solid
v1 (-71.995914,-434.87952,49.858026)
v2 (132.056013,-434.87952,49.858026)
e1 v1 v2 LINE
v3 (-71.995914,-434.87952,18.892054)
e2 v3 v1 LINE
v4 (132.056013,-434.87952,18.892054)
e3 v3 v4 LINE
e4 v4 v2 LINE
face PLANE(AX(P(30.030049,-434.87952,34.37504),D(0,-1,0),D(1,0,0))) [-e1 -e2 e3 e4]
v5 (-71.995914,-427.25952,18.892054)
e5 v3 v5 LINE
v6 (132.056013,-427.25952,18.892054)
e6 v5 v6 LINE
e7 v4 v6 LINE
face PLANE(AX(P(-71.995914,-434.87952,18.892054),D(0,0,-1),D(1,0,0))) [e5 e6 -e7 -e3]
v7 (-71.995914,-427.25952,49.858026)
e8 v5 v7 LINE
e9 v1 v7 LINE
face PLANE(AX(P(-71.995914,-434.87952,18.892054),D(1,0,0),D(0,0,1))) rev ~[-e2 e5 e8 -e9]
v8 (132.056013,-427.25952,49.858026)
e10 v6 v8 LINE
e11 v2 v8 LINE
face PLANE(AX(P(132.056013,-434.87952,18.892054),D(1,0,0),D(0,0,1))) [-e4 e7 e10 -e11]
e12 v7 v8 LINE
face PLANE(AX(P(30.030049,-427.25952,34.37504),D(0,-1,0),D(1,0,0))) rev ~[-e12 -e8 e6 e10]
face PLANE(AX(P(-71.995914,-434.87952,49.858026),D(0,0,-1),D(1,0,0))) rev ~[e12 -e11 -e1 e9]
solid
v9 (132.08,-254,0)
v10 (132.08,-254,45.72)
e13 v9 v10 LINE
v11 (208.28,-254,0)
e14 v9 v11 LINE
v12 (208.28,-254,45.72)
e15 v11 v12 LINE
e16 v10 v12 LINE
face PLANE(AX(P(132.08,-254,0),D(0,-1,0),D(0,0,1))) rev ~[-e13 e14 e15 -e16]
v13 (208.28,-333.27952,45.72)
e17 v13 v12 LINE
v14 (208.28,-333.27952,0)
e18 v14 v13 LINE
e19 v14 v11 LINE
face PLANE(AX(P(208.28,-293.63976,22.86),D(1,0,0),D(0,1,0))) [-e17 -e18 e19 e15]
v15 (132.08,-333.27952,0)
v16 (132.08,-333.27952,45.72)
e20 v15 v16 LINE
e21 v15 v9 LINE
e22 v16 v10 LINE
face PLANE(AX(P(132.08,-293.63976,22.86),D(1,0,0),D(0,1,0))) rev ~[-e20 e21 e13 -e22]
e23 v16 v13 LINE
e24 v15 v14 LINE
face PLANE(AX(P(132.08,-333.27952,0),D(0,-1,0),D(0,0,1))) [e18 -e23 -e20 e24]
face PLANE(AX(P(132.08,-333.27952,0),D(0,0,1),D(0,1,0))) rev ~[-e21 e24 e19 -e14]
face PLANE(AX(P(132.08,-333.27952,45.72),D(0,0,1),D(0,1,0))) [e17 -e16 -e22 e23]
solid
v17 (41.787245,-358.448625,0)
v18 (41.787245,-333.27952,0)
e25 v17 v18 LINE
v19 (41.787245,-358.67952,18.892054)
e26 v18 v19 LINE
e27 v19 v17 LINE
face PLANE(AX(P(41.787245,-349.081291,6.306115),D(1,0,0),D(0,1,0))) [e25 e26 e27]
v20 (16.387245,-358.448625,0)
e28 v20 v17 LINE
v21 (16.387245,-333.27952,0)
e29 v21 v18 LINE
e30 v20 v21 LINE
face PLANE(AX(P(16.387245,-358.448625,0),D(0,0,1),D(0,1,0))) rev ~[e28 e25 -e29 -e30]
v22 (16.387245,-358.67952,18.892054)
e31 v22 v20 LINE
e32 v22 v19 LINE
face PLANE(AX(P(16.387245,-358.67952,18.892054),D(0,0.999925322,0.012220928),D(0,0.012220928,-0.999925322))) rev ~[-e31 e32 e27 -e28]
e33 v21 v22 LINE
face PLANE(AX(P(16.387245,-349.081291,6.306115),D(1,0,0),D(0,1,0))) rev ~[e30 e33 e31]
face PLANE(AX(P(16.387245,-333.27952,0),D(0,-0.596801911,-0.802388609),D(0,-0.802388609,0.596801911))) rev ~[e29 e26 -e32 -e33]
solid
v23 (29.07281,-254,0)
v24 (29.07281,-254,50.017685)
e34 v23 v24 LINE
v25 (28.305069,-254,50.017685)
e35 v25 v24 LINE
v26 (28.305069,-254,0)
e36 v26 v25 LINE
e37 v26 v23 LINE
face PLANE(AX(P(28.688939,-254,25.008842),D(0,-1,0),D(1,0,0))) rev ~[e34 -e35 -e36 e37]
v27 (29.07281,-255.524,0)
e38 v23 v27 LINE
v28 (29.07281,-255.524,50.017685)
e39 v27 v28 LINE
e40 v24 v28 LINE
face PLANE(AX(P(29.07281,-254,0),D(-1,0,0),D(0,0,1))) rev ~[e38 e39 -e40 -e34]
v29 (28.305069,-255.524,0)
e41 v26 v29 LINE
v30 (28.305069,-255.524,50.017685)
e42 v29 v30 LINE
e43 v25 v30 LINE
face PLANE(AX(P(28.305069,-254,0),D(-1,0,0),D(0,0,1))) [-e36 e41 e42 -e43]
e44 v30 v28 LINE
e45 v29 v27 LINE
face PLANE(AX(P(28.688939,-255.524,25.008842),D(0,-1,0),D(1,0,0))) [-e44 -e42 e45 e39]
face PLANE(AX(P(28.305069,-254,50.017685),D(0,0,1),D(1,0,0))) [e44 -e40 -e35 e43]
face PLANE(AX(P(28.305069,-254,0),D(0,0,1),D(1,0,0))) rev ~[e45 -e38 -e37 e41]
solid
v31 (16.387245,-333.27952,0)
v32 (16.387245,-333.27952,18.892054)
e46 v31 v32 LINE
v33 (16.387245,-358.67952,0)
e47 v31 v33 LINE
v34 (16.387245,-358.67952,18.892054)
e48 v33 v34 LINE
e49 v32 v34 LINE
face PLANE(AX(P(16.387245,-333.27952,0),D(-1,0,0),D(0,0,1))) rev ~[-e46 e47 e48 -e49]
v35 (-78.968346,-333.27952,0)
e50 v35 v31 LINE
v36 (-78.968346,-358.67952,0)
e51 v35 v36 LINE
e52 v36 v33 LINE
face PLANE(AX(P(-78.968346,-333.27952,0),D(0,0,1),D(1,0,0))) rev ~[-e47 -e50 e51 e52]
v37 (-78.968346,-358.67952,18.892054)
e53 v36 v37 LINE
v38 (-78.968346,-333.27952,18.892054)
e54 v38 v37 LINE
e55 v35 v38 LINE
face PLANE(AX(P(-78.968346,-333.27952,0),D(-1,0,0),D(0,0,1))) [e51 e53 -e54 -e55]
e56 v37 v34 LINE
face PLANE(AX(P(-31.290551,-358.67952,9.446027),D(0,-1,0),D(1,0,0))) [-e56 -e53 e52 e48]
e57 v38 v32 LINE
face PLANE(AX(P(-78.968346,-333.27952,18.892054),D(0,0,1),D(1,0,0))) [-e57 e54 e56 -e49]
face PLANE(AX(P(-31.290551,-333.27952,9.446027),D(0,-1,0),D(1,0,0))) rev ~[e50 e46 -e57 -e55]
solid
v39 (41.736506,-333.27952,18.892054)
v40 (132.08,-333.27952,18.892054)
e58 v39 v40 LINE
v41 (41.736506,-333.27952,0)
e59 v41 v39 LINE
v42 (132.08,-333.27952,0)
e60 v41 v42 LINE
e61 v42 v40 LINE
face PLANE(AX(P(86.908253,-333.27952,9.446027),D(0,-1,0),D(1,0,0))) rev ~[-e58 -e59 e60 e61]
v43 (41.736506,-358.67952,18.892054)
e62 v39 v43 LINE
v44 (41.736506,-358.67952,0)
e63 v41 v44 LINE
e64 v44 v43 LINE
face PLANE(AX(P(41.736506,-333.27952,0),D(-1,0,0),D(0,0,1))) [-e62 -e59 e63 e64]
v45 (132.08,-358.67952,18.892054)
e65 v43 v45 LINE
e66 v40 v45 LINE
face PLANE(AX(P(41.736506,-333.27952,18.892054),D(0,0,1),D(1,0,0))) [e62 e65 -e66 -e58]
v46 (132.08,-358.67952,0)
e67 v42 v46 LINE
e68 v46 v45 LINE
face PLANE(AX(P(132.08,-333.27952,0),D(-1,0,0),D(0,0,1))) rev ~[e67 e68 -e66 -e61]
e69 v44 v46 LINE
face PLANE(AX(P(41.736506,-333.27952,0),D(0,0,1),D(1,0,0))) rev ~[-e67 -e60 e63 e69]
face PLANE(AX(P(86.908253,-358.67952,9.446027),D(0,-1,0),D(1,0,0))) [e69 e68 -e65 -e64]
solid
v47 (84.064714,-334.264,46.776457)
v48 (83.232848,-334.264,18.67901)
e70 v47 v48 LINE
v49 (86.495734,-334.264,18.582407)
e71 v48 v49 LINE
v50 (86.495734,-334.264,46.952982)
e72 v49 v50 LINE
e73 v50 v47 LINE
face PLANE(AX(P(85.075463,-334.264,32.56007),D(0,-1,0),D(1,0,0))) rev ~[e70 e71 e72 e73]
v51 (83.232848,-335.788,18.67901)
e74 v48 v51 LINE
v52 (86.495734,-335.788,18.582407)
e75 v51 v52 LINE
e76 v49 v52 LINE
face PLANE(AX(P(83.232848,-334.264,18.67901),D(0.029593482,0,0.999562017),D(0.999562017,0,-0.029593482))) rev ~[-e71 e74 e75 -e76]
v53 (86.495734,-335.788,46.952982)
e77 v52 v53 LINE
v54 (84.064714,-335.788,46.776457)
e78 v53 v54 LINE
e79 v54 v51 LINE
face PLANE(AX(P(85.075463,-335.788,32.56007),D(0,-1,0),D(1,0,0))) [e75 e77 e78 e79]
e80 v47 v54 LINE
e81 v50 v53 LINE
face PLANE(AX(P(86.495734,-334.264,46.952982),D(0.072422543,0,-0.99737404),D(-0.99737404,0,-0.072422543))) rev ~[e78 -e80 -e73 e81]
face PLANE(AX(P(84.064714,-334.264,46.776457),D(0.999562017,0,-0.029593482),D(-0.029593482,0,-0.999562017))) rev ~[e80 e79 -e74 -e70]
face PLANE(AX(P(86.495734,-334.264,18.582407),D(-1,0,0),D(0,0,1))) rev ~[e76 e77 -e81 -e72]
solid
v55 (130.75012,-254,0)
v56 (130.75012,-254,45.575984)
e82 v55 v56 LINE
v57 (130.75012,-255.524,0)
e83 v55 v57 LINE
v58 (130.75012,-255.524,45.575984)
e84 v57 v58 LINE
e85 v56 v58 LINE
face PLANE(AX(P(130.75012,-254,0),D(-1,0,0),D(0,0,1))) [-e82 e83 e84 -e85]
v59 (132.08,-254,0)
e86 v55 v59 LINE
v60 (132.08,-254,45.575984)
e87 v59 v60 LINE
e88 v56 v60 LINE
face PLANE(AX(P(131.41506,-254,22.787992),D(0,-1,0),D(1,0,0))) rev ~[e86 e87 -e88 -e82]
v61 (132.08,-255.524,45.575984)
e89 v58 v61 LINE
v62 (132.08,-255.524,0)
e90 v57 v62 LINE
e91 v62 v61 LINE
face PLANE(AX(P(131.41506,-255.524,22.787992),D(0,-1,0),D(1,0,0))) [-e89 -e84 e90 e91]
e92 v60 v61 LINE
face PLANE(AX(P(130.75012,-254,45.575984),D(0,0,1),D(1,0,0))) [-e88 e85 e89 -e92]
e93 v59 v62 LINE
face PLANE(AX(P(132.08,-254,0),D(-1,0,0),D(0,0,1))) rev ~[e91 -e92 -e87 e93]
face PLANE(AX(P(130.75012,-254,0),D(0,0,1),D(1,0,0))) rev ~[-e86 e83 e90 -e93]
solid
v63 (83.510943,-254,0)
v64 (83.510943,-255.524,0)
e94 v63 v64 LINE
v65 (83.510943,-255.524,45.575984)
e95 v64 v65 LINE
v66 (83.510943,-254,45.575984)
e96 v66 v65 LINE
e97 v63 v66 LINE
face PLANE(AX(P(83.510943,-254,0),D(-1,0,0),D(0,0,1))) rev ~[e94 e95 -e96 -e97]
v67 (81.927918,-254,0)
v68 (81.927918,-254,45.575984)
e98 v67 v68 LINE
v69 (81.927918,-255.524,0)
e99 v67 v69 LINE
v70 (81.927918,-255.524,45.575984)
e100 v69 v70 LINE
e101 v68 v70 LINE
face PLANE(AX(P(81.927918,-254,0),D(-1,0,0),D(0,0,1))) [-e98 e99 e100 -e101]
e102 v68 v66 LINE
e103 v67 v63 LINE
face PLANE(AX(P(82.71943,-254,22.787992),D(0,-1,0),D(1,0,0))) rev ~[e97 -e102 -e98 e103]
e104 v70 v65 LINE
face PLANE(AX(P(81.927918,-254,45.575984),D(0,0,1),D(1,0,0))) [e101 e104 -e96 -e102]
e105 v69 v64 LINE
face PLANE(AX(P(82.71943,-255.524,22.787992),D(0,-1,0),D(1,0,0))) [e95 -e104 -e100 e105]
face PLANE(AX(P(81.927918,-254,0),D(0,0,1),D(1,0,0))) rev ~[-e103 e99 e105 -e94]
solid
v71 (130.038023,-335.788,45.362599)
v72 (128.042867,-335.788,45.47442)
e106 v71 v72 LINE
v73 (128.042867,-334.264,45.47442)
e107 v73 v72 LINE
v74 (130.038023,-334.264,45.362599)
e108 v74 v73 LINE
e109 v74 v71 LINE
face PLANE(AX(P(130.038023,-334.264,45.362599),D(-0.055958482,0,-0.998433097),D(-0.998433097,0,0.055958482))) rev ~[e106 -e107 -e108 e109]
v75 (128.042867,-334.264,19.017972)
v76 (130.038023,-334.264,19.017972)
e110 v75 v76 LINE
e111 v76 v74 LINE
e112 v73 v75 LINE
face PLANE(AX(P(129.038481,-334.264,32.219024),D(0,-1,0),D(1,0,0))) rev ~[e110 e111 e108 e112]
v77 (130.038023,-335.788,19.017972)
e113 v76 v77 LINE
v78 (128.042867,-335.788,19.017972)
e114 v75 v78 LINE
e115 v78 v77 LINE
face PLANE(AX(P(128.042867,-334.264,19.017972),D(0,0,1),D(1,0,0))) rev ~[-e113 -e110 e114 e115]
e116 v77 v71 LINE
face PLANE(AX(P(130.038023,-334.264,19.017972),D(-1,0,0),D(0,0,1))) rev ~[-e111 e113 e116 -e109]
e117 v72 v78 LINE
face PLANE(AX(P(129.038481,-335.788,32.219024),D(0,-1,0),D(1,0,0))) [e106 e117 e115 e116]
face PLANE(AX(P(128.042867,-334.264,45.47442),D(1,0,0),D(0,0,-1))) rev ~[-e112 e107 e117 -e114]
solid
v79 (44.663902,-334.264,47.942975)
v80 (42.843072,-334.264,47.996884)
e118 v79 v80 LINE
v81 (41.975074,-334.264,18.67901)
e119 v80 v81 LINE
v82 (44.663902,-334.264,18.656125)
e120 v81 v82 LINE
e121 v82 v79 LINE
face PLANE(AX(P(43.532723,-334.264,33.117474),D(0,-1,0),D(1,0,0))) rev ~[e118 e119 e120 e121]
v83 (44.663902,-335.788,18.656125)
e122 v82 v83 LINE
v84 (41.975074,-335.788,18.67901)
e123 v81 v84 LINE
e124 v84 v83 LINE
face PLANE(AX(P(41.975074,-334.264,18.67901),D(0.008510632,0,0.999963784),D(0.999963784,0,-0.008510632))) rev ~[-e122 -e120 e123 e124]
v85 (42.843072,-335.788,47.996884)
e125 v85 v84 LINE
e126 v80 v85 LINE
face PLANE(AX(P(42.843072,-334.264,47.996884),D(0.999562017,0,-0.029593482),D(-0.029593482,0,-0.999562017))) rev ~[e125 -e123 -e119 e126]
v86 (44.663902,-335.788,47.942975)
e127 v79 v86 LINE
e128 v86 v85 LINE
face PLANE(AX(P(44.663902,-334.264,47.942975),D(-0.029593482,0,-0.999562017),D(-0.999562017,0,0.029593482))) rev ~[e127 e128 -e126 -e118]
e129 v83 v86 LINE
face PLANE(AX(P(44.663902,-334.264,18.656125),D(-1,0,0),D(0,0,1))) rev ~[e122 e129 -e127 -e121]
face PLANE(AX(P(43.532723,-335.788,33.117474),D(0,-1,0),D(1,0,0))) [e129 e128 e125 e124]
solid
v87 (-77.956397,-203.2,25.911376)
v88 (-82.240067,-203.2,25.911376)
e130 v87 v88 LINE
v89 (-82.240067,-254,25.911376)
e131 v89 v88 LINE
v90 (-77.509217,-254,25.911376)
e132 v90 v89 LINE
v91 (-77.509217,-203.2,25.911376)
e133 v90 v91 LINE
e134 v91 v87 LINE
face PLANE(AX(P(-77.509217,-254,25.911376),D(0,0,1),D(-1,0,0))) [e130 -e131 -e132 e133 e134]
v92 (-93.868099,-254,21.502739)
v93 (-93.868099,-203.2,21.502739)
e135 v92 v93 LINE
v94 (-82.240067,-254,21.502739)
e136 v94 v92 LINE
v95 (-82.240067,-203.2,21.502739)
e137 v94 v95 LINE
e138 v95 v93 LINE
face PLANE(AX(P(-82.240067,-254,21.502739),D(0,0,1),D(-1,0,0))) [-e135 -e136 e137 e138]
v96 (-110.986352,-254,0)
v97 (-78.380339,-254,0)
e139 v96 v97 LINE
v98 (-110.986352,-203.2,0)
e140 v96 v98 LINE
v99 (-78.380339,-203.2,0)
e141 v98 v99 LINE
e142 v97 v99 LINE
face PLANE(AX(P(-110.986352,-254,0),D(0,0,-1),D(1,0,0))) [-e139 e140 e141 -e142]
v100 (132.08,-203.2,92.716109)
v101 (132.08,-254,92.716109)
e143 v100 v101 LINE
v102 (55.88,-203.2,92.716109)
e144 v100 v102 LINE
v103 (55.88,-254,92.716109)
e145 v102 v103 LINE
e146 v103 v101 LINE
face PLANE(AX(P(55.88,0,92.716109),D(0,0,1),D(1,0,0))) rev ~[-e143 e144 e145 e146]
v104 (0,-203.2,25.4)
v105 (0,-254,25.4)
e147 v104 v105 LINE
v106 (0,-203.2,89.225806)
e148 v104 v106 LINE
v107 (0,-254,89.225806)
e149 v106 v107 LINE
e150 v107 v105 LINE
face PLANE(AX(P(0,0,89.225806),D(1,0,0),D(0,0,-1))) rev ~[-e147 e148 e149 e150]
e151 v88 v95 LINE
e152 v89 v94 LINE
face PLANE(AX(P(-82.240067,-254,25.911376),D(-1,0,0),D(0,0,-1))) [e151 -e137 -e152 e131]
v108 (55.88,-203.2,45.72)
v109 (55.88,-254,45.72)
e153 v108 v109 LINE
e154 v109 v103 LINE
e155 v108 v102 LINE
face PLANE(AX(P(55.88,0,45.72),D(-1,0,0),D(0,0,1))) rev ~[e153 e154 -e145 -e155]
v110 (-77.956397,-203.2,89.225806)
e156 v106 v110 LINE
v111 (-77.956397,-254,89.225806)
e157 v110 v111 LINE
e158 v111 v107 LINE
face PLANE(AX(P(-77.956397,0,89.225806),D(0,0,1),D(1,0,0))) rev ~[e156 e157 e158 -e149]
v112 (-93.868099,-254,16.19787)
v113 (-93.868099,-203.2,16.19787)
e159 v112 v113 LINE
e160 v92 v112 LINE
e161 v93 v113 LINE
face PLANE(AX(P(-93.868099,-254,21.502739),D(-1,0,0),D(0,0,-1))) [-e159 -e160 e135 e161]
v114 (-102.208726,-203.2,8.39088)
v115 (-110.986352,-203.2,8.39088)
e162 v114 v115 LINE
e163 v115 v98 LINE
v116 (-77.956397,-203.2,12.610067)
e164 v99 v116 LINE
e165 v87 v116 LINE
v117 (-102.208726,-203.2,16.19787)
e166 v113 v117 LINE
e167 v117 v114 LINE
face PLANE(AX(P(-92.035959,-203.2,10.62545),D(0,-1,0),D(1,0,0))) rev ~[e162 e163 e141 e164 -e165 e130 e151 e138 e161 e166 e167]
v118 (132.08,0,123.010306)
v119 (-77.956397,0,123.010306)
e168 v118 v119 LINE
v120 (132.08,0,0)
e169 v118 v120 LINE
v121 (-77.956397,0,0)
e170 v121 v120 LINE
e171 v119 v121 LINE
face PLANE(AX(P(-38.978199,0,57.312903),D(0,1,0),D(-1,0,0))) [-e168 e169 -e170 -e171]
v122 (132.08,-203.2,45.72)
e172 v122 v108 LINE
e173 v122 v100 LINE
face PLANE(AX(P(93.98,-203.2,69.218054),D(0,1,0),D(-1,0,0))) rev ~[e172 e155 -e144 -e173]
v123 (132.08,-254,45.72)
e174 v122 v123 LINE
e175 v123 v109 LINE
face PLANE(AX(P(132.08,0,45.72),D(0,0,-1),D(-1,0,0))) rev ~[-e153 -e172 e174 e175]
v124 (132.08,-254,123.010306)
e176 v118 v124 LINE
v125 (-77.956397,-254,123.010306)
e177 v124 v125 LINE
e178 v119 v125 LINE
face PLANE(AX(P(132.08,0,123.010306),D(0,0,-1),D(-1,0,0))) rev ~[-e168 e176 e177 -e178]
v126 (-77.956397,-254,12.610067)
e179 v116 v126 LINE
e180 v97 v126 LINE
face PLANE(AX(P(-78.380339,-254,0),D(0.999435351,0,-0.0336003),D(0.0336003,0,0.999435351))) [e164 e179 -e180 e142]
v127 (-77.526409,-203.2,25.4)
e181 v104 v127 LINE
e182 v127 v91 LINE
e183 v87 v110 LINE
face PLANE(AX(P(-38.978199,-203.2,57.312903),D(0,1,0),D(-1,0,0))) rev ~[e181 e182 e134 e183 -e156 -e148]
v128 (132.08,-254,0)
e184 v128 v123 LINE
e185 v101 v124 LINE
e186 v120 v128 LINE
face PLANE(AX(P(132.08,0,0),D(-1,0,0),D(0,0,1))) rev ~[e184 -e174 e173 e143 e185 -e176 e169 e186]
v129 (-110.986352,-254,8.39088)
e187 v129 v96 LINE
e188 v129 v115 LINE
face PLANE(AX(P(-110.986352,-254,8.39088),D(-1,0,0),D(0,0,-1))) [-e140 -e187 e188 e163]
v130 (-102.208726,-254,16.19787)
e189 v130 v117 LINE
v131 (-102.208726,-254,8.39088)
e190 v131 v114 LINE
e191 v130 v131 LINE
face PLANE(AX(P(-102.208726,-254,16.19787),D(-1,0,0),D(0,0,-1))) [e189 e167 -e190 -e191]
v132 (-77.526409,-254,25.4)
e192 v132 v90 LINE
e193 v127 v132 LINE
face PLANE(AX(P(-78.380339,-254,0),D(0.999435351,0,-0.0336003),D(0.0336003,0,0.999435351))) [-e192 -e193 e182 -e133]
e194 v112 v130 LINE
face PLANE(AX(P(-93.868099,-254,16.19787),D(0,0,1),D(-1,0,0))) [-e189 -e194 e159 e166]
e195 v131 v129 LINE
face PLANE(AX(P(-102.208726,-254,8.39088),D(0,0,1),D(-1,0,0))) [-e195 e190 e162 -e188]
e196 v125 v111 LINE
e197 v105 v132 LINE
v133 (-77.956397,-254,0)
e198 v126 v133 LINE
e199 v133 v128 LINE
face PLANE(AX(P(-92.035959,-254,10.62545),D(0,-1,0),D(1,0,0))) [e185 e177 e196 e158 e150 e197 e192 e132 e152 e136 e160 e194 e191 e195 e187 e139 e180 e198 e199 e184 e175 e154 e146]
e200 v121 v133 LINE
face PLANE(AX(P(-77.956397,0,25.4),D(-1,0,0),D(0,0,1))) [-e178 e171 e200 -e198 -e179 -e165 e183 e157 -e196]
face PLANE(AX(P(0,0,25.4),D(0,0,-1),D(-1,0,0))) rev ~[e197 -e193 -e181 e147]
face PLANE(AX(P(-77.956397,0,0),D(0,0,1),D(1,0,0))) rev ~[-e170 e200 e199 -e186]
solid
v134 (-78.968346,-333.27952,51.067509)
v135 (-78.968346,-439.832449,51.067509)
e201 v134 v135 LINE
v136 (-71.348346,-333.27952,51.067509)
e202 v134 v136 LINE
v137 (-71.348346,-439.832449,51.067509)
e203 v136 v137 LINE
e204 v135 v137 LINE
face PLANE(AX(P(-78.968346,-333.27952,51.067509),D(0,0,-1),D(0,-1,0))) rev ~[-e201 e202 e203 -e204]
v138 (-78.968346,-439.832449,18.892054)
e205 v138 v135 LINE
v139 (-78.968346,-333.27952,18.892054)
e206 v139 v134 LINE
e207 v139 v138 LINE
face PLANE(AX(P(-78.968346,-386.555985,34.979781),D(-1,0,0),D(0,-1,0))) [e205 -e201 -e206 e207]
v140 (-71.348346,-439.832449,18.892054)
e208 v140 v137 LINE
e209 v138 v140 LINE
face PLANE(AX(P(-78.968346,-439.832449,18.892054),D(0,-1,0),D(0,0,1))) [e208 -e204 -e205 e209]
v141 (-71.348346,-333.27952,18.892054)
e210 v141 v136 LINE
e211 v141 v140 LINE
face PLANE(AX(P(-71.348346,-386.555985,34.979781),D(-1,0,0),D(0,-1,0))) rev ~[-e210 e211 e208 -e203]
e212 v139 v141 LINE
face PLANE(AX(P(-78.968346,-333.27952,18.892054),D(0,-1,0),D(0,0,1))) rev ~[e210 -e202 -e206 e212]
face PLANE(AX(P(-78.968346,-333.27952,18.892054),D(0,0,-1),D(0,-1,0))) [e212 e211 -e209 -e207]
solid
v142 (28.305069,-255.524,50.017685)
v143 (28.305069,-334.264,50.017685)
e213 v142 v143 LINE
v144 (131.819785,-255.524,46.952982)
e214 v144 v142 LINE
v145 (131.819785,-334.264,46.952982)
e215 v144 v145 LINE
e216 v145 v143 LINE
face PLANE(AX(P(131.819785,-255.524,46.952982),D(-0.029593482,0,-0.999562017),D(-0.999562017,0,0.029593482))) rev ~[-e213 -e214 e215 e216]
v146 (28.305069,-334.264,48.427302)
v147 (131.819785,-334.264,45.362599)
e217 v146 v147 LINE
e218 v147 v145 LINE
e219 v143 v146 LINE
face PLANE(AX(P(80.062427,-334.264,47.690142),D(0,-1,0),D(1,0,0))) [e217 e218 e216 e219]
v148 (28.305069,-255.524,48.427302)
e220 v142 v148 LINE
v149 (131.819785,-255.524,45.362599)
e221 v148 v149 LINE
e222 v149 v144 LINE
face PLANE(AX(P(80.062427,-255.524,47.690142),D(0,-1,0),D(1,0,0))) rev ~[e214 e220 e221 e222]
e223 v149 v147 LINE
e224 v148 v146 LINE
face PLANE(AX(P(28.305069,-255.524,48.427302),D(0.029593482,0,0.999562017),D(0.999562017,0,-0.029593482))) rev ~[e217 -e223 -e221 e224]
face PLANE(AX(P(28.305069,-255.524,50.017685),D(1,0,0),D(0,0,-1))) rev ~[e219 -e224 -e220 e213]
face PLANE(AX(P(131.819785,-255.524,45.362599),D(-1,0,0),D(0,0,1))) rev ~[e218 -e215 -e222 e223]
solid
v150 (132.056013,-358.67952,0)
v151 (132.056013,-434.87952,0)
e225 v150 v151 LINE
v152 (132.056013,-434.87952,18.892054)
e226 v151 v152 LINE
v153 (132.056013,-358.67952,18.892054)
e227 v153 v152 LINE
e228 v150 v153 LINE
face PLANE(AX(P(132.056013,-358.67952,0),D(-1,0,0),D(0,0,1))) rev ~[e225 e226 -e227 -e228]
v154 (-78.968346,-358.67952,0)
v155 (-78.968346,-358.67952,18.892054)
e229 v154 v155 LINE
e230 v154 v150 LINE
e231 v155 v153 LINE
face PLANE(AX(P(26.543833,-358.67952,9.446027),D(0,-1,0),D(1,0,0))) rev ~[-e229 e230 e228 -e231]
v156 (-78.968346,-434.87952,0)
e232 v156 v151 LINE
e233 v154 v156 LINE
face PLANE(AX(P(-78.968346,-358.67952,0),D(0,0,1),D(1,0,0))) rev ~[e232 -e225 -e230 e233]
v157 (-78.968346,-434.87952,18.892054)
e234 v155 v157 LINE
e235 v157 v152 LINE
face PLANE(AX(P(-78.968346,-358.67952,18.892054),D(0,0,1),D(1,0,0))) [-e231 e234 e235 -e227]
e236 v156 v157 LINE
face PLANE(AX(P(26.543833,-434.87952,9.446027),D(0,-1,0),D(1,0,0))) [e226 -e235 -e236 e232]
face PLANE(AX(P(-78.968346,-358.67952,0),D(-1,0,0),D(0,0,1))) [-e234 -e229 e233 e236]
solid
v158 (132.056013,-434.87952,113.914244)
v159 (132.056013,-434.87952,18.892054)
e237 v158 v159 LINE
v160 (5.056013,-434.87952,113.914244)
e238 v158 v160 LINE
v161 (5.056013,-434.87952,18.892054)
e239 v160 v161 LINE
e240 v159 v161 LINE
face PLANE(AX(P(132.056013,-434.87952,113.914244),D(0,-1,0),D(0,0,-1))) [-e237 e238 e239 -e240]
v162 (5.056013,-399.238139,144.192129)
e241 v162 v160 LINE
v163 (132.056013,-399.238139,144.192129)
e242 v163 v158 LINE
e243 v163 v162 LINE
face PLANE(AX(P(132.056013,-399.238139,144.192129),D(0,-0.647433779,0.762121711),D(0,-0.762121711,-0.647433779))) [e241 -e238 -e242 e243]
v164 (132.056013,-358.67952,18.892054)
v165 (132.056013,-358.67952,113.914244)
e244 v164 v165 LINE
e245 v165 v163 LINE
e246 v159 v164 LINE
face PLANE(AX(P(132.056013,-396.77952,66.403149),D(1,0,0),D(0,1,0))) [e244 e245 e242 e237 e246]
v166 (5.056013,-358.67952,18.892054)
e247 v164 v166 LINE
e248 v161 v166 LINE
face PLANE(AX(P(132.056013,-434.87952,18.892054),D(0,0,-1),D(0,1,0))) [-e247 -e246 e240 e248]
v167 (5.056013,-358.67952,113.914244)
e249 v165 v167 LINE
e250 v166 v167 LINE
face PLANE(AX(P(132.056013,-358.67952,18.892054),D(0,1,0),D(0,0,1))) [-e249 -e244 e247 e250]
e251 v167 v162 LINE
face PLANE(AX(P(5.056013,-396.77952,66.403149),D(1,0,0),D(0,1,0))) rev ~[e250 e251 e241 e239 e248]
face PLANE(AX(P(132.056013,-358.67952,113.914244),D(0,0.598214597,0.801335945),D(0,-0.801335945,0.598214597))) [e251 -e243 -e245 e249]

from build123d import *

# Parameters (mm, degrees)
F1_DEPTH  = 254
F3_W      = 77.9563974186
F3_H      = 63.8258055005
F3_W_2    = 76.2
F3_H_2    = 46.9961089506
F4_DEPTH  = 203.2
F5_W      = 79.2795202732
F5_H      = 45.72
F6_DEPTH  = 76.2
F7_W      = 90.3434940743
F7_H      = 18.8920535147
F8_DEPTH  = 25.4
F7_W_2    = 95.3555908054
F9_W      = 211.0243588686
F9_H      = 18.8920535147
F10_DEPTH = 76.2
F12_DEPTH = 25.4
F14_DEPTH = 50.8
F15_W     = 0.7677413523
F15_H     = 50.0176846981
F16_DEPTH = 1.524
F15_W_2   = 1.5830248594
F15_H_2   = 45.5759838223
F15_W_3   = 1.3298803139
F18_DEPTH = 78.74
F20_DEPTH = 1.524
F21_W     = 106.5529286861
F21_H     = 32.1754552424
F22_DEPTH = 7.62
F23_W     = 204.0519267321
F23_H     = 30.9659726918
F24_DEPTH = 7.62
F26_DEPTH = 127


with BuildPart() as f1:
    # F0 (on Front) → F1 (new body)
    with BuildSketch(Plane.XZ):
        Polygon((-77.9563974186, 0), (0, 0), (132.08, 0), (132.08, 45.72), (55.88, 45.72), (55.88, 92.7161089506), (132.08, 92.7161089506), (132.08, 123.0103062721), (-24.9627400838, 123.0103062721), (-68.5986950994, 123.0103062721), (-77.9563974186, 123.0103062721), (-77.9563974186, 89.2258055005), (0, 89.2258055005), (0, 25.4), (-14.4551063059, 25.4), (-77.9563974186, 25.4), align=None)
    extrude(amount=F1_DEPTH)

    # F3 (on face) → F4 (join)
    with BuildSketch(Plane(origin=(0, 0, 0), x_dir=(-1, 0, 0), z_dir=(0, 1, 0))):
        with Locations((38.9781987093, 57.3129027503)):
            Rectangle(F3_W, F3_H)
        with Locations((-93.98, 69.2180544753)):
            Rectangle(F3_W_2, F3_H_2)
    extrude(amount=-F4_DEPTH)

    # F13 (on face) → F14 (join)
    with BuildSketch(Plane.XZ.offset(254)):
        Polygon((-110.9863519669, 0), (-78.3803388476, 0), (-77.5092169642, 25.9113758802), (-82.2400674224, 25.9113758802), (-82.2400674224, 21.5027388185), (-93.868099153, 21.5027388185), (-93.868099153, 16.1978695542), (-102.2087261081, 16.1978695542), (-102.2087261081, 8.3908801898), (-110.9863519669, 8.3908801898), align=None)
    extrude(amount=-F14_DEPTH)


with BuildPart() as f6:
    # F5 (on face) → F6 (new body)
    with BuildSketch(Plane.YZ.offset(132.08)):
        with Locations((-293.6397601366, 22.86)):
            Rectangle(F5_W, F5_H)
    extrude(amount=F6_DEPTH)


with BuildPart() as f8:
    # F7 (on face) → F8 (new body)
    with BuildSketch(Plane.XZ.offset(333.2795202732)):
        with Locations((86.9082529628, 9.4460267574)):
            Rectangle(F7_W, F7_H)
    extrude(amount=F8_DEPTH)


with BuildPart() as f8b:
    # F7 (on face) → F8, piece 2 (new body)
    with BuildSketch(Plane.XZ.offset(333.2795202732)):
        with Locations((-31.2905507162, 9.4460267574)):
            Rectangle(F7_W_2, F7_H)
    extrude(amount=F8_DEPTH)


with BuildPart() as f10:
    # F9 (on face) → F10 (new body)
    with BuildSketch(Plane.XZ.offset(358.6795202732)):
        with Locations((26.5438333154, 9.4460267574)):
            Rectangle(F9_W, F9_H)
    extrude(amount=F10_DEPTH)


with BuildPart() as f12:
    # F11 (on face) → F12 (new body)
    with BuildSketch(Plane.YZ.offset(16.3872446865)):
        Polygon((-358.4486246109, 0), (-333.2795202732, 0), (-358.6795202732, 18.8920535147), align=None)
    extrude(amount=F12_DEPTH)


with BuildPart() as f16:
    # F15 (on face) → F16 (new body)
    with BuildSketch(Plane.XZ.offset(254)):
        with Locations((28.6889392883, 25.0088423491)):
            Rectangle(F15_W, F15_H)
    extrude(amount=F16_DEPTH)


with BuildPart() as f16b:
    # F15 (on face) → F16, piece 2 (new body)
    with BuildSketch(Plane.XZ.offset(254)):
        with Locations((82.7194303274, 22.7879919112)):
            Rectangle(F15_W_2, F15_H_2)
    extrude(amount=F16_DEPTH)


with BuildPart() as f16c:
    # F15 (on face) → F16, piece 3 (new body)
    with BuildSketch(Plane.XZ.offset(254)):
        with Locations((131.4150598431, 22.7879919112)):
            Rectangle(F15_W_3, F15_H_2)
    extrude(amount=F16_DEPTH)


with BuildPart() as f18:
    # F17 (on face) → F18 (new body)
    with BuildSketch(Plane.XZ.offset(255.524)):
        Polygon((131.8197846413, 46.9529815018), (28.3050686121, 50.0176846981), (28.3050686121, 48.4273023903), (131.8197846413, 45.362599194), align=None)
    extrude(amount=F18_DEPTH)


with BuildPart() as f20:
    # F19 (on face) → F20 (new body)
    with BuildSketch(Plane.XZ.offset(334.264)):
        Polygon((42.8430716674, 47.9968837393), (41.9750735164, 18.6790097505), (44.6639020724, 18.6561252922), (44.6639020724, 47.9429754162), align=None)
    extrude(amount=F20_DEPTH)


with BuildPart() as f20b:
    # F19 (on face) → F20, piece 2 (new body)
    with BuildSketch(Plane.XZ.offset(334.264)):
        Polygon((86.4957340196, 46.9529815018), (84.0647137093, 46.7764572824), (83.2328480523, 18.6790097505), (86.4957340196, 18.5824072824), align=None)
    extrude(amount=F20_DEPTH)


with BuildPart() as f20c:
    # F19 (on face) → F20, piece 3 (new body)
    with BuildSketch(Plane.XZ.offset(334.264)):
        Polygon((130.038022995, 45.362599194), (128.0428667087, 45.4744203235), (128.0428667087, 19.0179720521), (130.038022995, 19.0179720521), align=None)
    extrude(amount=F20_DEPTH)


with BuildPart() as f22:
    # F21 (on face) → F22 (new body)
    with BuildSketch(Plane(origin=(-78.9683461189, 0, 0), x_dir=(0, -1, 0), z_dir=(-1, 0, 0))):
        with Locations((386.5559846163, 34.9797811359)):
            Rectangle(F21_W, F21_H)
    extrude(amount=-F22_DEPTH)


with BuildPart() as f24:
    # F23 (on face) → F24 (new body)
    with BuildSketch(Plane.XZ.offset(434.8795202732)):
        with Locations((30.0300493836, 34.3750398606)):
            Rectangle(F23_W, F23_H)
    extrude(amount=-F24_DEPTH)


with BuildPart() as f26:
    # F25 (on face) → F26 (new body)
    with BuildSketch(Plane.YZ.offset(132.0560127497)):
        Polygon((-434.8795202732, 18.8920535147), (-358.6795202732, 18.8920535147), (-358.6795202732, 49.4040995836), (-358.6795202732, 113.9142438769), (-434.8795202732, 113.9142438769), align=None)
        Polygon((-434.8795202732, 113.9142438769), (-358.6795202732, 113.9142438769), (-399.2381393909, 144.1921293736), align=None)
    extrude(amount=-F26_DEPTH)


solid = Compound([f1.part, f6.part, f8.part, f8b.part, f10.part, f12.part, f16.part, f16b.part, f16c.part, f18.part, f20.part, f20b.part, f20c.part, f22.part, f24.part, f26.part])
